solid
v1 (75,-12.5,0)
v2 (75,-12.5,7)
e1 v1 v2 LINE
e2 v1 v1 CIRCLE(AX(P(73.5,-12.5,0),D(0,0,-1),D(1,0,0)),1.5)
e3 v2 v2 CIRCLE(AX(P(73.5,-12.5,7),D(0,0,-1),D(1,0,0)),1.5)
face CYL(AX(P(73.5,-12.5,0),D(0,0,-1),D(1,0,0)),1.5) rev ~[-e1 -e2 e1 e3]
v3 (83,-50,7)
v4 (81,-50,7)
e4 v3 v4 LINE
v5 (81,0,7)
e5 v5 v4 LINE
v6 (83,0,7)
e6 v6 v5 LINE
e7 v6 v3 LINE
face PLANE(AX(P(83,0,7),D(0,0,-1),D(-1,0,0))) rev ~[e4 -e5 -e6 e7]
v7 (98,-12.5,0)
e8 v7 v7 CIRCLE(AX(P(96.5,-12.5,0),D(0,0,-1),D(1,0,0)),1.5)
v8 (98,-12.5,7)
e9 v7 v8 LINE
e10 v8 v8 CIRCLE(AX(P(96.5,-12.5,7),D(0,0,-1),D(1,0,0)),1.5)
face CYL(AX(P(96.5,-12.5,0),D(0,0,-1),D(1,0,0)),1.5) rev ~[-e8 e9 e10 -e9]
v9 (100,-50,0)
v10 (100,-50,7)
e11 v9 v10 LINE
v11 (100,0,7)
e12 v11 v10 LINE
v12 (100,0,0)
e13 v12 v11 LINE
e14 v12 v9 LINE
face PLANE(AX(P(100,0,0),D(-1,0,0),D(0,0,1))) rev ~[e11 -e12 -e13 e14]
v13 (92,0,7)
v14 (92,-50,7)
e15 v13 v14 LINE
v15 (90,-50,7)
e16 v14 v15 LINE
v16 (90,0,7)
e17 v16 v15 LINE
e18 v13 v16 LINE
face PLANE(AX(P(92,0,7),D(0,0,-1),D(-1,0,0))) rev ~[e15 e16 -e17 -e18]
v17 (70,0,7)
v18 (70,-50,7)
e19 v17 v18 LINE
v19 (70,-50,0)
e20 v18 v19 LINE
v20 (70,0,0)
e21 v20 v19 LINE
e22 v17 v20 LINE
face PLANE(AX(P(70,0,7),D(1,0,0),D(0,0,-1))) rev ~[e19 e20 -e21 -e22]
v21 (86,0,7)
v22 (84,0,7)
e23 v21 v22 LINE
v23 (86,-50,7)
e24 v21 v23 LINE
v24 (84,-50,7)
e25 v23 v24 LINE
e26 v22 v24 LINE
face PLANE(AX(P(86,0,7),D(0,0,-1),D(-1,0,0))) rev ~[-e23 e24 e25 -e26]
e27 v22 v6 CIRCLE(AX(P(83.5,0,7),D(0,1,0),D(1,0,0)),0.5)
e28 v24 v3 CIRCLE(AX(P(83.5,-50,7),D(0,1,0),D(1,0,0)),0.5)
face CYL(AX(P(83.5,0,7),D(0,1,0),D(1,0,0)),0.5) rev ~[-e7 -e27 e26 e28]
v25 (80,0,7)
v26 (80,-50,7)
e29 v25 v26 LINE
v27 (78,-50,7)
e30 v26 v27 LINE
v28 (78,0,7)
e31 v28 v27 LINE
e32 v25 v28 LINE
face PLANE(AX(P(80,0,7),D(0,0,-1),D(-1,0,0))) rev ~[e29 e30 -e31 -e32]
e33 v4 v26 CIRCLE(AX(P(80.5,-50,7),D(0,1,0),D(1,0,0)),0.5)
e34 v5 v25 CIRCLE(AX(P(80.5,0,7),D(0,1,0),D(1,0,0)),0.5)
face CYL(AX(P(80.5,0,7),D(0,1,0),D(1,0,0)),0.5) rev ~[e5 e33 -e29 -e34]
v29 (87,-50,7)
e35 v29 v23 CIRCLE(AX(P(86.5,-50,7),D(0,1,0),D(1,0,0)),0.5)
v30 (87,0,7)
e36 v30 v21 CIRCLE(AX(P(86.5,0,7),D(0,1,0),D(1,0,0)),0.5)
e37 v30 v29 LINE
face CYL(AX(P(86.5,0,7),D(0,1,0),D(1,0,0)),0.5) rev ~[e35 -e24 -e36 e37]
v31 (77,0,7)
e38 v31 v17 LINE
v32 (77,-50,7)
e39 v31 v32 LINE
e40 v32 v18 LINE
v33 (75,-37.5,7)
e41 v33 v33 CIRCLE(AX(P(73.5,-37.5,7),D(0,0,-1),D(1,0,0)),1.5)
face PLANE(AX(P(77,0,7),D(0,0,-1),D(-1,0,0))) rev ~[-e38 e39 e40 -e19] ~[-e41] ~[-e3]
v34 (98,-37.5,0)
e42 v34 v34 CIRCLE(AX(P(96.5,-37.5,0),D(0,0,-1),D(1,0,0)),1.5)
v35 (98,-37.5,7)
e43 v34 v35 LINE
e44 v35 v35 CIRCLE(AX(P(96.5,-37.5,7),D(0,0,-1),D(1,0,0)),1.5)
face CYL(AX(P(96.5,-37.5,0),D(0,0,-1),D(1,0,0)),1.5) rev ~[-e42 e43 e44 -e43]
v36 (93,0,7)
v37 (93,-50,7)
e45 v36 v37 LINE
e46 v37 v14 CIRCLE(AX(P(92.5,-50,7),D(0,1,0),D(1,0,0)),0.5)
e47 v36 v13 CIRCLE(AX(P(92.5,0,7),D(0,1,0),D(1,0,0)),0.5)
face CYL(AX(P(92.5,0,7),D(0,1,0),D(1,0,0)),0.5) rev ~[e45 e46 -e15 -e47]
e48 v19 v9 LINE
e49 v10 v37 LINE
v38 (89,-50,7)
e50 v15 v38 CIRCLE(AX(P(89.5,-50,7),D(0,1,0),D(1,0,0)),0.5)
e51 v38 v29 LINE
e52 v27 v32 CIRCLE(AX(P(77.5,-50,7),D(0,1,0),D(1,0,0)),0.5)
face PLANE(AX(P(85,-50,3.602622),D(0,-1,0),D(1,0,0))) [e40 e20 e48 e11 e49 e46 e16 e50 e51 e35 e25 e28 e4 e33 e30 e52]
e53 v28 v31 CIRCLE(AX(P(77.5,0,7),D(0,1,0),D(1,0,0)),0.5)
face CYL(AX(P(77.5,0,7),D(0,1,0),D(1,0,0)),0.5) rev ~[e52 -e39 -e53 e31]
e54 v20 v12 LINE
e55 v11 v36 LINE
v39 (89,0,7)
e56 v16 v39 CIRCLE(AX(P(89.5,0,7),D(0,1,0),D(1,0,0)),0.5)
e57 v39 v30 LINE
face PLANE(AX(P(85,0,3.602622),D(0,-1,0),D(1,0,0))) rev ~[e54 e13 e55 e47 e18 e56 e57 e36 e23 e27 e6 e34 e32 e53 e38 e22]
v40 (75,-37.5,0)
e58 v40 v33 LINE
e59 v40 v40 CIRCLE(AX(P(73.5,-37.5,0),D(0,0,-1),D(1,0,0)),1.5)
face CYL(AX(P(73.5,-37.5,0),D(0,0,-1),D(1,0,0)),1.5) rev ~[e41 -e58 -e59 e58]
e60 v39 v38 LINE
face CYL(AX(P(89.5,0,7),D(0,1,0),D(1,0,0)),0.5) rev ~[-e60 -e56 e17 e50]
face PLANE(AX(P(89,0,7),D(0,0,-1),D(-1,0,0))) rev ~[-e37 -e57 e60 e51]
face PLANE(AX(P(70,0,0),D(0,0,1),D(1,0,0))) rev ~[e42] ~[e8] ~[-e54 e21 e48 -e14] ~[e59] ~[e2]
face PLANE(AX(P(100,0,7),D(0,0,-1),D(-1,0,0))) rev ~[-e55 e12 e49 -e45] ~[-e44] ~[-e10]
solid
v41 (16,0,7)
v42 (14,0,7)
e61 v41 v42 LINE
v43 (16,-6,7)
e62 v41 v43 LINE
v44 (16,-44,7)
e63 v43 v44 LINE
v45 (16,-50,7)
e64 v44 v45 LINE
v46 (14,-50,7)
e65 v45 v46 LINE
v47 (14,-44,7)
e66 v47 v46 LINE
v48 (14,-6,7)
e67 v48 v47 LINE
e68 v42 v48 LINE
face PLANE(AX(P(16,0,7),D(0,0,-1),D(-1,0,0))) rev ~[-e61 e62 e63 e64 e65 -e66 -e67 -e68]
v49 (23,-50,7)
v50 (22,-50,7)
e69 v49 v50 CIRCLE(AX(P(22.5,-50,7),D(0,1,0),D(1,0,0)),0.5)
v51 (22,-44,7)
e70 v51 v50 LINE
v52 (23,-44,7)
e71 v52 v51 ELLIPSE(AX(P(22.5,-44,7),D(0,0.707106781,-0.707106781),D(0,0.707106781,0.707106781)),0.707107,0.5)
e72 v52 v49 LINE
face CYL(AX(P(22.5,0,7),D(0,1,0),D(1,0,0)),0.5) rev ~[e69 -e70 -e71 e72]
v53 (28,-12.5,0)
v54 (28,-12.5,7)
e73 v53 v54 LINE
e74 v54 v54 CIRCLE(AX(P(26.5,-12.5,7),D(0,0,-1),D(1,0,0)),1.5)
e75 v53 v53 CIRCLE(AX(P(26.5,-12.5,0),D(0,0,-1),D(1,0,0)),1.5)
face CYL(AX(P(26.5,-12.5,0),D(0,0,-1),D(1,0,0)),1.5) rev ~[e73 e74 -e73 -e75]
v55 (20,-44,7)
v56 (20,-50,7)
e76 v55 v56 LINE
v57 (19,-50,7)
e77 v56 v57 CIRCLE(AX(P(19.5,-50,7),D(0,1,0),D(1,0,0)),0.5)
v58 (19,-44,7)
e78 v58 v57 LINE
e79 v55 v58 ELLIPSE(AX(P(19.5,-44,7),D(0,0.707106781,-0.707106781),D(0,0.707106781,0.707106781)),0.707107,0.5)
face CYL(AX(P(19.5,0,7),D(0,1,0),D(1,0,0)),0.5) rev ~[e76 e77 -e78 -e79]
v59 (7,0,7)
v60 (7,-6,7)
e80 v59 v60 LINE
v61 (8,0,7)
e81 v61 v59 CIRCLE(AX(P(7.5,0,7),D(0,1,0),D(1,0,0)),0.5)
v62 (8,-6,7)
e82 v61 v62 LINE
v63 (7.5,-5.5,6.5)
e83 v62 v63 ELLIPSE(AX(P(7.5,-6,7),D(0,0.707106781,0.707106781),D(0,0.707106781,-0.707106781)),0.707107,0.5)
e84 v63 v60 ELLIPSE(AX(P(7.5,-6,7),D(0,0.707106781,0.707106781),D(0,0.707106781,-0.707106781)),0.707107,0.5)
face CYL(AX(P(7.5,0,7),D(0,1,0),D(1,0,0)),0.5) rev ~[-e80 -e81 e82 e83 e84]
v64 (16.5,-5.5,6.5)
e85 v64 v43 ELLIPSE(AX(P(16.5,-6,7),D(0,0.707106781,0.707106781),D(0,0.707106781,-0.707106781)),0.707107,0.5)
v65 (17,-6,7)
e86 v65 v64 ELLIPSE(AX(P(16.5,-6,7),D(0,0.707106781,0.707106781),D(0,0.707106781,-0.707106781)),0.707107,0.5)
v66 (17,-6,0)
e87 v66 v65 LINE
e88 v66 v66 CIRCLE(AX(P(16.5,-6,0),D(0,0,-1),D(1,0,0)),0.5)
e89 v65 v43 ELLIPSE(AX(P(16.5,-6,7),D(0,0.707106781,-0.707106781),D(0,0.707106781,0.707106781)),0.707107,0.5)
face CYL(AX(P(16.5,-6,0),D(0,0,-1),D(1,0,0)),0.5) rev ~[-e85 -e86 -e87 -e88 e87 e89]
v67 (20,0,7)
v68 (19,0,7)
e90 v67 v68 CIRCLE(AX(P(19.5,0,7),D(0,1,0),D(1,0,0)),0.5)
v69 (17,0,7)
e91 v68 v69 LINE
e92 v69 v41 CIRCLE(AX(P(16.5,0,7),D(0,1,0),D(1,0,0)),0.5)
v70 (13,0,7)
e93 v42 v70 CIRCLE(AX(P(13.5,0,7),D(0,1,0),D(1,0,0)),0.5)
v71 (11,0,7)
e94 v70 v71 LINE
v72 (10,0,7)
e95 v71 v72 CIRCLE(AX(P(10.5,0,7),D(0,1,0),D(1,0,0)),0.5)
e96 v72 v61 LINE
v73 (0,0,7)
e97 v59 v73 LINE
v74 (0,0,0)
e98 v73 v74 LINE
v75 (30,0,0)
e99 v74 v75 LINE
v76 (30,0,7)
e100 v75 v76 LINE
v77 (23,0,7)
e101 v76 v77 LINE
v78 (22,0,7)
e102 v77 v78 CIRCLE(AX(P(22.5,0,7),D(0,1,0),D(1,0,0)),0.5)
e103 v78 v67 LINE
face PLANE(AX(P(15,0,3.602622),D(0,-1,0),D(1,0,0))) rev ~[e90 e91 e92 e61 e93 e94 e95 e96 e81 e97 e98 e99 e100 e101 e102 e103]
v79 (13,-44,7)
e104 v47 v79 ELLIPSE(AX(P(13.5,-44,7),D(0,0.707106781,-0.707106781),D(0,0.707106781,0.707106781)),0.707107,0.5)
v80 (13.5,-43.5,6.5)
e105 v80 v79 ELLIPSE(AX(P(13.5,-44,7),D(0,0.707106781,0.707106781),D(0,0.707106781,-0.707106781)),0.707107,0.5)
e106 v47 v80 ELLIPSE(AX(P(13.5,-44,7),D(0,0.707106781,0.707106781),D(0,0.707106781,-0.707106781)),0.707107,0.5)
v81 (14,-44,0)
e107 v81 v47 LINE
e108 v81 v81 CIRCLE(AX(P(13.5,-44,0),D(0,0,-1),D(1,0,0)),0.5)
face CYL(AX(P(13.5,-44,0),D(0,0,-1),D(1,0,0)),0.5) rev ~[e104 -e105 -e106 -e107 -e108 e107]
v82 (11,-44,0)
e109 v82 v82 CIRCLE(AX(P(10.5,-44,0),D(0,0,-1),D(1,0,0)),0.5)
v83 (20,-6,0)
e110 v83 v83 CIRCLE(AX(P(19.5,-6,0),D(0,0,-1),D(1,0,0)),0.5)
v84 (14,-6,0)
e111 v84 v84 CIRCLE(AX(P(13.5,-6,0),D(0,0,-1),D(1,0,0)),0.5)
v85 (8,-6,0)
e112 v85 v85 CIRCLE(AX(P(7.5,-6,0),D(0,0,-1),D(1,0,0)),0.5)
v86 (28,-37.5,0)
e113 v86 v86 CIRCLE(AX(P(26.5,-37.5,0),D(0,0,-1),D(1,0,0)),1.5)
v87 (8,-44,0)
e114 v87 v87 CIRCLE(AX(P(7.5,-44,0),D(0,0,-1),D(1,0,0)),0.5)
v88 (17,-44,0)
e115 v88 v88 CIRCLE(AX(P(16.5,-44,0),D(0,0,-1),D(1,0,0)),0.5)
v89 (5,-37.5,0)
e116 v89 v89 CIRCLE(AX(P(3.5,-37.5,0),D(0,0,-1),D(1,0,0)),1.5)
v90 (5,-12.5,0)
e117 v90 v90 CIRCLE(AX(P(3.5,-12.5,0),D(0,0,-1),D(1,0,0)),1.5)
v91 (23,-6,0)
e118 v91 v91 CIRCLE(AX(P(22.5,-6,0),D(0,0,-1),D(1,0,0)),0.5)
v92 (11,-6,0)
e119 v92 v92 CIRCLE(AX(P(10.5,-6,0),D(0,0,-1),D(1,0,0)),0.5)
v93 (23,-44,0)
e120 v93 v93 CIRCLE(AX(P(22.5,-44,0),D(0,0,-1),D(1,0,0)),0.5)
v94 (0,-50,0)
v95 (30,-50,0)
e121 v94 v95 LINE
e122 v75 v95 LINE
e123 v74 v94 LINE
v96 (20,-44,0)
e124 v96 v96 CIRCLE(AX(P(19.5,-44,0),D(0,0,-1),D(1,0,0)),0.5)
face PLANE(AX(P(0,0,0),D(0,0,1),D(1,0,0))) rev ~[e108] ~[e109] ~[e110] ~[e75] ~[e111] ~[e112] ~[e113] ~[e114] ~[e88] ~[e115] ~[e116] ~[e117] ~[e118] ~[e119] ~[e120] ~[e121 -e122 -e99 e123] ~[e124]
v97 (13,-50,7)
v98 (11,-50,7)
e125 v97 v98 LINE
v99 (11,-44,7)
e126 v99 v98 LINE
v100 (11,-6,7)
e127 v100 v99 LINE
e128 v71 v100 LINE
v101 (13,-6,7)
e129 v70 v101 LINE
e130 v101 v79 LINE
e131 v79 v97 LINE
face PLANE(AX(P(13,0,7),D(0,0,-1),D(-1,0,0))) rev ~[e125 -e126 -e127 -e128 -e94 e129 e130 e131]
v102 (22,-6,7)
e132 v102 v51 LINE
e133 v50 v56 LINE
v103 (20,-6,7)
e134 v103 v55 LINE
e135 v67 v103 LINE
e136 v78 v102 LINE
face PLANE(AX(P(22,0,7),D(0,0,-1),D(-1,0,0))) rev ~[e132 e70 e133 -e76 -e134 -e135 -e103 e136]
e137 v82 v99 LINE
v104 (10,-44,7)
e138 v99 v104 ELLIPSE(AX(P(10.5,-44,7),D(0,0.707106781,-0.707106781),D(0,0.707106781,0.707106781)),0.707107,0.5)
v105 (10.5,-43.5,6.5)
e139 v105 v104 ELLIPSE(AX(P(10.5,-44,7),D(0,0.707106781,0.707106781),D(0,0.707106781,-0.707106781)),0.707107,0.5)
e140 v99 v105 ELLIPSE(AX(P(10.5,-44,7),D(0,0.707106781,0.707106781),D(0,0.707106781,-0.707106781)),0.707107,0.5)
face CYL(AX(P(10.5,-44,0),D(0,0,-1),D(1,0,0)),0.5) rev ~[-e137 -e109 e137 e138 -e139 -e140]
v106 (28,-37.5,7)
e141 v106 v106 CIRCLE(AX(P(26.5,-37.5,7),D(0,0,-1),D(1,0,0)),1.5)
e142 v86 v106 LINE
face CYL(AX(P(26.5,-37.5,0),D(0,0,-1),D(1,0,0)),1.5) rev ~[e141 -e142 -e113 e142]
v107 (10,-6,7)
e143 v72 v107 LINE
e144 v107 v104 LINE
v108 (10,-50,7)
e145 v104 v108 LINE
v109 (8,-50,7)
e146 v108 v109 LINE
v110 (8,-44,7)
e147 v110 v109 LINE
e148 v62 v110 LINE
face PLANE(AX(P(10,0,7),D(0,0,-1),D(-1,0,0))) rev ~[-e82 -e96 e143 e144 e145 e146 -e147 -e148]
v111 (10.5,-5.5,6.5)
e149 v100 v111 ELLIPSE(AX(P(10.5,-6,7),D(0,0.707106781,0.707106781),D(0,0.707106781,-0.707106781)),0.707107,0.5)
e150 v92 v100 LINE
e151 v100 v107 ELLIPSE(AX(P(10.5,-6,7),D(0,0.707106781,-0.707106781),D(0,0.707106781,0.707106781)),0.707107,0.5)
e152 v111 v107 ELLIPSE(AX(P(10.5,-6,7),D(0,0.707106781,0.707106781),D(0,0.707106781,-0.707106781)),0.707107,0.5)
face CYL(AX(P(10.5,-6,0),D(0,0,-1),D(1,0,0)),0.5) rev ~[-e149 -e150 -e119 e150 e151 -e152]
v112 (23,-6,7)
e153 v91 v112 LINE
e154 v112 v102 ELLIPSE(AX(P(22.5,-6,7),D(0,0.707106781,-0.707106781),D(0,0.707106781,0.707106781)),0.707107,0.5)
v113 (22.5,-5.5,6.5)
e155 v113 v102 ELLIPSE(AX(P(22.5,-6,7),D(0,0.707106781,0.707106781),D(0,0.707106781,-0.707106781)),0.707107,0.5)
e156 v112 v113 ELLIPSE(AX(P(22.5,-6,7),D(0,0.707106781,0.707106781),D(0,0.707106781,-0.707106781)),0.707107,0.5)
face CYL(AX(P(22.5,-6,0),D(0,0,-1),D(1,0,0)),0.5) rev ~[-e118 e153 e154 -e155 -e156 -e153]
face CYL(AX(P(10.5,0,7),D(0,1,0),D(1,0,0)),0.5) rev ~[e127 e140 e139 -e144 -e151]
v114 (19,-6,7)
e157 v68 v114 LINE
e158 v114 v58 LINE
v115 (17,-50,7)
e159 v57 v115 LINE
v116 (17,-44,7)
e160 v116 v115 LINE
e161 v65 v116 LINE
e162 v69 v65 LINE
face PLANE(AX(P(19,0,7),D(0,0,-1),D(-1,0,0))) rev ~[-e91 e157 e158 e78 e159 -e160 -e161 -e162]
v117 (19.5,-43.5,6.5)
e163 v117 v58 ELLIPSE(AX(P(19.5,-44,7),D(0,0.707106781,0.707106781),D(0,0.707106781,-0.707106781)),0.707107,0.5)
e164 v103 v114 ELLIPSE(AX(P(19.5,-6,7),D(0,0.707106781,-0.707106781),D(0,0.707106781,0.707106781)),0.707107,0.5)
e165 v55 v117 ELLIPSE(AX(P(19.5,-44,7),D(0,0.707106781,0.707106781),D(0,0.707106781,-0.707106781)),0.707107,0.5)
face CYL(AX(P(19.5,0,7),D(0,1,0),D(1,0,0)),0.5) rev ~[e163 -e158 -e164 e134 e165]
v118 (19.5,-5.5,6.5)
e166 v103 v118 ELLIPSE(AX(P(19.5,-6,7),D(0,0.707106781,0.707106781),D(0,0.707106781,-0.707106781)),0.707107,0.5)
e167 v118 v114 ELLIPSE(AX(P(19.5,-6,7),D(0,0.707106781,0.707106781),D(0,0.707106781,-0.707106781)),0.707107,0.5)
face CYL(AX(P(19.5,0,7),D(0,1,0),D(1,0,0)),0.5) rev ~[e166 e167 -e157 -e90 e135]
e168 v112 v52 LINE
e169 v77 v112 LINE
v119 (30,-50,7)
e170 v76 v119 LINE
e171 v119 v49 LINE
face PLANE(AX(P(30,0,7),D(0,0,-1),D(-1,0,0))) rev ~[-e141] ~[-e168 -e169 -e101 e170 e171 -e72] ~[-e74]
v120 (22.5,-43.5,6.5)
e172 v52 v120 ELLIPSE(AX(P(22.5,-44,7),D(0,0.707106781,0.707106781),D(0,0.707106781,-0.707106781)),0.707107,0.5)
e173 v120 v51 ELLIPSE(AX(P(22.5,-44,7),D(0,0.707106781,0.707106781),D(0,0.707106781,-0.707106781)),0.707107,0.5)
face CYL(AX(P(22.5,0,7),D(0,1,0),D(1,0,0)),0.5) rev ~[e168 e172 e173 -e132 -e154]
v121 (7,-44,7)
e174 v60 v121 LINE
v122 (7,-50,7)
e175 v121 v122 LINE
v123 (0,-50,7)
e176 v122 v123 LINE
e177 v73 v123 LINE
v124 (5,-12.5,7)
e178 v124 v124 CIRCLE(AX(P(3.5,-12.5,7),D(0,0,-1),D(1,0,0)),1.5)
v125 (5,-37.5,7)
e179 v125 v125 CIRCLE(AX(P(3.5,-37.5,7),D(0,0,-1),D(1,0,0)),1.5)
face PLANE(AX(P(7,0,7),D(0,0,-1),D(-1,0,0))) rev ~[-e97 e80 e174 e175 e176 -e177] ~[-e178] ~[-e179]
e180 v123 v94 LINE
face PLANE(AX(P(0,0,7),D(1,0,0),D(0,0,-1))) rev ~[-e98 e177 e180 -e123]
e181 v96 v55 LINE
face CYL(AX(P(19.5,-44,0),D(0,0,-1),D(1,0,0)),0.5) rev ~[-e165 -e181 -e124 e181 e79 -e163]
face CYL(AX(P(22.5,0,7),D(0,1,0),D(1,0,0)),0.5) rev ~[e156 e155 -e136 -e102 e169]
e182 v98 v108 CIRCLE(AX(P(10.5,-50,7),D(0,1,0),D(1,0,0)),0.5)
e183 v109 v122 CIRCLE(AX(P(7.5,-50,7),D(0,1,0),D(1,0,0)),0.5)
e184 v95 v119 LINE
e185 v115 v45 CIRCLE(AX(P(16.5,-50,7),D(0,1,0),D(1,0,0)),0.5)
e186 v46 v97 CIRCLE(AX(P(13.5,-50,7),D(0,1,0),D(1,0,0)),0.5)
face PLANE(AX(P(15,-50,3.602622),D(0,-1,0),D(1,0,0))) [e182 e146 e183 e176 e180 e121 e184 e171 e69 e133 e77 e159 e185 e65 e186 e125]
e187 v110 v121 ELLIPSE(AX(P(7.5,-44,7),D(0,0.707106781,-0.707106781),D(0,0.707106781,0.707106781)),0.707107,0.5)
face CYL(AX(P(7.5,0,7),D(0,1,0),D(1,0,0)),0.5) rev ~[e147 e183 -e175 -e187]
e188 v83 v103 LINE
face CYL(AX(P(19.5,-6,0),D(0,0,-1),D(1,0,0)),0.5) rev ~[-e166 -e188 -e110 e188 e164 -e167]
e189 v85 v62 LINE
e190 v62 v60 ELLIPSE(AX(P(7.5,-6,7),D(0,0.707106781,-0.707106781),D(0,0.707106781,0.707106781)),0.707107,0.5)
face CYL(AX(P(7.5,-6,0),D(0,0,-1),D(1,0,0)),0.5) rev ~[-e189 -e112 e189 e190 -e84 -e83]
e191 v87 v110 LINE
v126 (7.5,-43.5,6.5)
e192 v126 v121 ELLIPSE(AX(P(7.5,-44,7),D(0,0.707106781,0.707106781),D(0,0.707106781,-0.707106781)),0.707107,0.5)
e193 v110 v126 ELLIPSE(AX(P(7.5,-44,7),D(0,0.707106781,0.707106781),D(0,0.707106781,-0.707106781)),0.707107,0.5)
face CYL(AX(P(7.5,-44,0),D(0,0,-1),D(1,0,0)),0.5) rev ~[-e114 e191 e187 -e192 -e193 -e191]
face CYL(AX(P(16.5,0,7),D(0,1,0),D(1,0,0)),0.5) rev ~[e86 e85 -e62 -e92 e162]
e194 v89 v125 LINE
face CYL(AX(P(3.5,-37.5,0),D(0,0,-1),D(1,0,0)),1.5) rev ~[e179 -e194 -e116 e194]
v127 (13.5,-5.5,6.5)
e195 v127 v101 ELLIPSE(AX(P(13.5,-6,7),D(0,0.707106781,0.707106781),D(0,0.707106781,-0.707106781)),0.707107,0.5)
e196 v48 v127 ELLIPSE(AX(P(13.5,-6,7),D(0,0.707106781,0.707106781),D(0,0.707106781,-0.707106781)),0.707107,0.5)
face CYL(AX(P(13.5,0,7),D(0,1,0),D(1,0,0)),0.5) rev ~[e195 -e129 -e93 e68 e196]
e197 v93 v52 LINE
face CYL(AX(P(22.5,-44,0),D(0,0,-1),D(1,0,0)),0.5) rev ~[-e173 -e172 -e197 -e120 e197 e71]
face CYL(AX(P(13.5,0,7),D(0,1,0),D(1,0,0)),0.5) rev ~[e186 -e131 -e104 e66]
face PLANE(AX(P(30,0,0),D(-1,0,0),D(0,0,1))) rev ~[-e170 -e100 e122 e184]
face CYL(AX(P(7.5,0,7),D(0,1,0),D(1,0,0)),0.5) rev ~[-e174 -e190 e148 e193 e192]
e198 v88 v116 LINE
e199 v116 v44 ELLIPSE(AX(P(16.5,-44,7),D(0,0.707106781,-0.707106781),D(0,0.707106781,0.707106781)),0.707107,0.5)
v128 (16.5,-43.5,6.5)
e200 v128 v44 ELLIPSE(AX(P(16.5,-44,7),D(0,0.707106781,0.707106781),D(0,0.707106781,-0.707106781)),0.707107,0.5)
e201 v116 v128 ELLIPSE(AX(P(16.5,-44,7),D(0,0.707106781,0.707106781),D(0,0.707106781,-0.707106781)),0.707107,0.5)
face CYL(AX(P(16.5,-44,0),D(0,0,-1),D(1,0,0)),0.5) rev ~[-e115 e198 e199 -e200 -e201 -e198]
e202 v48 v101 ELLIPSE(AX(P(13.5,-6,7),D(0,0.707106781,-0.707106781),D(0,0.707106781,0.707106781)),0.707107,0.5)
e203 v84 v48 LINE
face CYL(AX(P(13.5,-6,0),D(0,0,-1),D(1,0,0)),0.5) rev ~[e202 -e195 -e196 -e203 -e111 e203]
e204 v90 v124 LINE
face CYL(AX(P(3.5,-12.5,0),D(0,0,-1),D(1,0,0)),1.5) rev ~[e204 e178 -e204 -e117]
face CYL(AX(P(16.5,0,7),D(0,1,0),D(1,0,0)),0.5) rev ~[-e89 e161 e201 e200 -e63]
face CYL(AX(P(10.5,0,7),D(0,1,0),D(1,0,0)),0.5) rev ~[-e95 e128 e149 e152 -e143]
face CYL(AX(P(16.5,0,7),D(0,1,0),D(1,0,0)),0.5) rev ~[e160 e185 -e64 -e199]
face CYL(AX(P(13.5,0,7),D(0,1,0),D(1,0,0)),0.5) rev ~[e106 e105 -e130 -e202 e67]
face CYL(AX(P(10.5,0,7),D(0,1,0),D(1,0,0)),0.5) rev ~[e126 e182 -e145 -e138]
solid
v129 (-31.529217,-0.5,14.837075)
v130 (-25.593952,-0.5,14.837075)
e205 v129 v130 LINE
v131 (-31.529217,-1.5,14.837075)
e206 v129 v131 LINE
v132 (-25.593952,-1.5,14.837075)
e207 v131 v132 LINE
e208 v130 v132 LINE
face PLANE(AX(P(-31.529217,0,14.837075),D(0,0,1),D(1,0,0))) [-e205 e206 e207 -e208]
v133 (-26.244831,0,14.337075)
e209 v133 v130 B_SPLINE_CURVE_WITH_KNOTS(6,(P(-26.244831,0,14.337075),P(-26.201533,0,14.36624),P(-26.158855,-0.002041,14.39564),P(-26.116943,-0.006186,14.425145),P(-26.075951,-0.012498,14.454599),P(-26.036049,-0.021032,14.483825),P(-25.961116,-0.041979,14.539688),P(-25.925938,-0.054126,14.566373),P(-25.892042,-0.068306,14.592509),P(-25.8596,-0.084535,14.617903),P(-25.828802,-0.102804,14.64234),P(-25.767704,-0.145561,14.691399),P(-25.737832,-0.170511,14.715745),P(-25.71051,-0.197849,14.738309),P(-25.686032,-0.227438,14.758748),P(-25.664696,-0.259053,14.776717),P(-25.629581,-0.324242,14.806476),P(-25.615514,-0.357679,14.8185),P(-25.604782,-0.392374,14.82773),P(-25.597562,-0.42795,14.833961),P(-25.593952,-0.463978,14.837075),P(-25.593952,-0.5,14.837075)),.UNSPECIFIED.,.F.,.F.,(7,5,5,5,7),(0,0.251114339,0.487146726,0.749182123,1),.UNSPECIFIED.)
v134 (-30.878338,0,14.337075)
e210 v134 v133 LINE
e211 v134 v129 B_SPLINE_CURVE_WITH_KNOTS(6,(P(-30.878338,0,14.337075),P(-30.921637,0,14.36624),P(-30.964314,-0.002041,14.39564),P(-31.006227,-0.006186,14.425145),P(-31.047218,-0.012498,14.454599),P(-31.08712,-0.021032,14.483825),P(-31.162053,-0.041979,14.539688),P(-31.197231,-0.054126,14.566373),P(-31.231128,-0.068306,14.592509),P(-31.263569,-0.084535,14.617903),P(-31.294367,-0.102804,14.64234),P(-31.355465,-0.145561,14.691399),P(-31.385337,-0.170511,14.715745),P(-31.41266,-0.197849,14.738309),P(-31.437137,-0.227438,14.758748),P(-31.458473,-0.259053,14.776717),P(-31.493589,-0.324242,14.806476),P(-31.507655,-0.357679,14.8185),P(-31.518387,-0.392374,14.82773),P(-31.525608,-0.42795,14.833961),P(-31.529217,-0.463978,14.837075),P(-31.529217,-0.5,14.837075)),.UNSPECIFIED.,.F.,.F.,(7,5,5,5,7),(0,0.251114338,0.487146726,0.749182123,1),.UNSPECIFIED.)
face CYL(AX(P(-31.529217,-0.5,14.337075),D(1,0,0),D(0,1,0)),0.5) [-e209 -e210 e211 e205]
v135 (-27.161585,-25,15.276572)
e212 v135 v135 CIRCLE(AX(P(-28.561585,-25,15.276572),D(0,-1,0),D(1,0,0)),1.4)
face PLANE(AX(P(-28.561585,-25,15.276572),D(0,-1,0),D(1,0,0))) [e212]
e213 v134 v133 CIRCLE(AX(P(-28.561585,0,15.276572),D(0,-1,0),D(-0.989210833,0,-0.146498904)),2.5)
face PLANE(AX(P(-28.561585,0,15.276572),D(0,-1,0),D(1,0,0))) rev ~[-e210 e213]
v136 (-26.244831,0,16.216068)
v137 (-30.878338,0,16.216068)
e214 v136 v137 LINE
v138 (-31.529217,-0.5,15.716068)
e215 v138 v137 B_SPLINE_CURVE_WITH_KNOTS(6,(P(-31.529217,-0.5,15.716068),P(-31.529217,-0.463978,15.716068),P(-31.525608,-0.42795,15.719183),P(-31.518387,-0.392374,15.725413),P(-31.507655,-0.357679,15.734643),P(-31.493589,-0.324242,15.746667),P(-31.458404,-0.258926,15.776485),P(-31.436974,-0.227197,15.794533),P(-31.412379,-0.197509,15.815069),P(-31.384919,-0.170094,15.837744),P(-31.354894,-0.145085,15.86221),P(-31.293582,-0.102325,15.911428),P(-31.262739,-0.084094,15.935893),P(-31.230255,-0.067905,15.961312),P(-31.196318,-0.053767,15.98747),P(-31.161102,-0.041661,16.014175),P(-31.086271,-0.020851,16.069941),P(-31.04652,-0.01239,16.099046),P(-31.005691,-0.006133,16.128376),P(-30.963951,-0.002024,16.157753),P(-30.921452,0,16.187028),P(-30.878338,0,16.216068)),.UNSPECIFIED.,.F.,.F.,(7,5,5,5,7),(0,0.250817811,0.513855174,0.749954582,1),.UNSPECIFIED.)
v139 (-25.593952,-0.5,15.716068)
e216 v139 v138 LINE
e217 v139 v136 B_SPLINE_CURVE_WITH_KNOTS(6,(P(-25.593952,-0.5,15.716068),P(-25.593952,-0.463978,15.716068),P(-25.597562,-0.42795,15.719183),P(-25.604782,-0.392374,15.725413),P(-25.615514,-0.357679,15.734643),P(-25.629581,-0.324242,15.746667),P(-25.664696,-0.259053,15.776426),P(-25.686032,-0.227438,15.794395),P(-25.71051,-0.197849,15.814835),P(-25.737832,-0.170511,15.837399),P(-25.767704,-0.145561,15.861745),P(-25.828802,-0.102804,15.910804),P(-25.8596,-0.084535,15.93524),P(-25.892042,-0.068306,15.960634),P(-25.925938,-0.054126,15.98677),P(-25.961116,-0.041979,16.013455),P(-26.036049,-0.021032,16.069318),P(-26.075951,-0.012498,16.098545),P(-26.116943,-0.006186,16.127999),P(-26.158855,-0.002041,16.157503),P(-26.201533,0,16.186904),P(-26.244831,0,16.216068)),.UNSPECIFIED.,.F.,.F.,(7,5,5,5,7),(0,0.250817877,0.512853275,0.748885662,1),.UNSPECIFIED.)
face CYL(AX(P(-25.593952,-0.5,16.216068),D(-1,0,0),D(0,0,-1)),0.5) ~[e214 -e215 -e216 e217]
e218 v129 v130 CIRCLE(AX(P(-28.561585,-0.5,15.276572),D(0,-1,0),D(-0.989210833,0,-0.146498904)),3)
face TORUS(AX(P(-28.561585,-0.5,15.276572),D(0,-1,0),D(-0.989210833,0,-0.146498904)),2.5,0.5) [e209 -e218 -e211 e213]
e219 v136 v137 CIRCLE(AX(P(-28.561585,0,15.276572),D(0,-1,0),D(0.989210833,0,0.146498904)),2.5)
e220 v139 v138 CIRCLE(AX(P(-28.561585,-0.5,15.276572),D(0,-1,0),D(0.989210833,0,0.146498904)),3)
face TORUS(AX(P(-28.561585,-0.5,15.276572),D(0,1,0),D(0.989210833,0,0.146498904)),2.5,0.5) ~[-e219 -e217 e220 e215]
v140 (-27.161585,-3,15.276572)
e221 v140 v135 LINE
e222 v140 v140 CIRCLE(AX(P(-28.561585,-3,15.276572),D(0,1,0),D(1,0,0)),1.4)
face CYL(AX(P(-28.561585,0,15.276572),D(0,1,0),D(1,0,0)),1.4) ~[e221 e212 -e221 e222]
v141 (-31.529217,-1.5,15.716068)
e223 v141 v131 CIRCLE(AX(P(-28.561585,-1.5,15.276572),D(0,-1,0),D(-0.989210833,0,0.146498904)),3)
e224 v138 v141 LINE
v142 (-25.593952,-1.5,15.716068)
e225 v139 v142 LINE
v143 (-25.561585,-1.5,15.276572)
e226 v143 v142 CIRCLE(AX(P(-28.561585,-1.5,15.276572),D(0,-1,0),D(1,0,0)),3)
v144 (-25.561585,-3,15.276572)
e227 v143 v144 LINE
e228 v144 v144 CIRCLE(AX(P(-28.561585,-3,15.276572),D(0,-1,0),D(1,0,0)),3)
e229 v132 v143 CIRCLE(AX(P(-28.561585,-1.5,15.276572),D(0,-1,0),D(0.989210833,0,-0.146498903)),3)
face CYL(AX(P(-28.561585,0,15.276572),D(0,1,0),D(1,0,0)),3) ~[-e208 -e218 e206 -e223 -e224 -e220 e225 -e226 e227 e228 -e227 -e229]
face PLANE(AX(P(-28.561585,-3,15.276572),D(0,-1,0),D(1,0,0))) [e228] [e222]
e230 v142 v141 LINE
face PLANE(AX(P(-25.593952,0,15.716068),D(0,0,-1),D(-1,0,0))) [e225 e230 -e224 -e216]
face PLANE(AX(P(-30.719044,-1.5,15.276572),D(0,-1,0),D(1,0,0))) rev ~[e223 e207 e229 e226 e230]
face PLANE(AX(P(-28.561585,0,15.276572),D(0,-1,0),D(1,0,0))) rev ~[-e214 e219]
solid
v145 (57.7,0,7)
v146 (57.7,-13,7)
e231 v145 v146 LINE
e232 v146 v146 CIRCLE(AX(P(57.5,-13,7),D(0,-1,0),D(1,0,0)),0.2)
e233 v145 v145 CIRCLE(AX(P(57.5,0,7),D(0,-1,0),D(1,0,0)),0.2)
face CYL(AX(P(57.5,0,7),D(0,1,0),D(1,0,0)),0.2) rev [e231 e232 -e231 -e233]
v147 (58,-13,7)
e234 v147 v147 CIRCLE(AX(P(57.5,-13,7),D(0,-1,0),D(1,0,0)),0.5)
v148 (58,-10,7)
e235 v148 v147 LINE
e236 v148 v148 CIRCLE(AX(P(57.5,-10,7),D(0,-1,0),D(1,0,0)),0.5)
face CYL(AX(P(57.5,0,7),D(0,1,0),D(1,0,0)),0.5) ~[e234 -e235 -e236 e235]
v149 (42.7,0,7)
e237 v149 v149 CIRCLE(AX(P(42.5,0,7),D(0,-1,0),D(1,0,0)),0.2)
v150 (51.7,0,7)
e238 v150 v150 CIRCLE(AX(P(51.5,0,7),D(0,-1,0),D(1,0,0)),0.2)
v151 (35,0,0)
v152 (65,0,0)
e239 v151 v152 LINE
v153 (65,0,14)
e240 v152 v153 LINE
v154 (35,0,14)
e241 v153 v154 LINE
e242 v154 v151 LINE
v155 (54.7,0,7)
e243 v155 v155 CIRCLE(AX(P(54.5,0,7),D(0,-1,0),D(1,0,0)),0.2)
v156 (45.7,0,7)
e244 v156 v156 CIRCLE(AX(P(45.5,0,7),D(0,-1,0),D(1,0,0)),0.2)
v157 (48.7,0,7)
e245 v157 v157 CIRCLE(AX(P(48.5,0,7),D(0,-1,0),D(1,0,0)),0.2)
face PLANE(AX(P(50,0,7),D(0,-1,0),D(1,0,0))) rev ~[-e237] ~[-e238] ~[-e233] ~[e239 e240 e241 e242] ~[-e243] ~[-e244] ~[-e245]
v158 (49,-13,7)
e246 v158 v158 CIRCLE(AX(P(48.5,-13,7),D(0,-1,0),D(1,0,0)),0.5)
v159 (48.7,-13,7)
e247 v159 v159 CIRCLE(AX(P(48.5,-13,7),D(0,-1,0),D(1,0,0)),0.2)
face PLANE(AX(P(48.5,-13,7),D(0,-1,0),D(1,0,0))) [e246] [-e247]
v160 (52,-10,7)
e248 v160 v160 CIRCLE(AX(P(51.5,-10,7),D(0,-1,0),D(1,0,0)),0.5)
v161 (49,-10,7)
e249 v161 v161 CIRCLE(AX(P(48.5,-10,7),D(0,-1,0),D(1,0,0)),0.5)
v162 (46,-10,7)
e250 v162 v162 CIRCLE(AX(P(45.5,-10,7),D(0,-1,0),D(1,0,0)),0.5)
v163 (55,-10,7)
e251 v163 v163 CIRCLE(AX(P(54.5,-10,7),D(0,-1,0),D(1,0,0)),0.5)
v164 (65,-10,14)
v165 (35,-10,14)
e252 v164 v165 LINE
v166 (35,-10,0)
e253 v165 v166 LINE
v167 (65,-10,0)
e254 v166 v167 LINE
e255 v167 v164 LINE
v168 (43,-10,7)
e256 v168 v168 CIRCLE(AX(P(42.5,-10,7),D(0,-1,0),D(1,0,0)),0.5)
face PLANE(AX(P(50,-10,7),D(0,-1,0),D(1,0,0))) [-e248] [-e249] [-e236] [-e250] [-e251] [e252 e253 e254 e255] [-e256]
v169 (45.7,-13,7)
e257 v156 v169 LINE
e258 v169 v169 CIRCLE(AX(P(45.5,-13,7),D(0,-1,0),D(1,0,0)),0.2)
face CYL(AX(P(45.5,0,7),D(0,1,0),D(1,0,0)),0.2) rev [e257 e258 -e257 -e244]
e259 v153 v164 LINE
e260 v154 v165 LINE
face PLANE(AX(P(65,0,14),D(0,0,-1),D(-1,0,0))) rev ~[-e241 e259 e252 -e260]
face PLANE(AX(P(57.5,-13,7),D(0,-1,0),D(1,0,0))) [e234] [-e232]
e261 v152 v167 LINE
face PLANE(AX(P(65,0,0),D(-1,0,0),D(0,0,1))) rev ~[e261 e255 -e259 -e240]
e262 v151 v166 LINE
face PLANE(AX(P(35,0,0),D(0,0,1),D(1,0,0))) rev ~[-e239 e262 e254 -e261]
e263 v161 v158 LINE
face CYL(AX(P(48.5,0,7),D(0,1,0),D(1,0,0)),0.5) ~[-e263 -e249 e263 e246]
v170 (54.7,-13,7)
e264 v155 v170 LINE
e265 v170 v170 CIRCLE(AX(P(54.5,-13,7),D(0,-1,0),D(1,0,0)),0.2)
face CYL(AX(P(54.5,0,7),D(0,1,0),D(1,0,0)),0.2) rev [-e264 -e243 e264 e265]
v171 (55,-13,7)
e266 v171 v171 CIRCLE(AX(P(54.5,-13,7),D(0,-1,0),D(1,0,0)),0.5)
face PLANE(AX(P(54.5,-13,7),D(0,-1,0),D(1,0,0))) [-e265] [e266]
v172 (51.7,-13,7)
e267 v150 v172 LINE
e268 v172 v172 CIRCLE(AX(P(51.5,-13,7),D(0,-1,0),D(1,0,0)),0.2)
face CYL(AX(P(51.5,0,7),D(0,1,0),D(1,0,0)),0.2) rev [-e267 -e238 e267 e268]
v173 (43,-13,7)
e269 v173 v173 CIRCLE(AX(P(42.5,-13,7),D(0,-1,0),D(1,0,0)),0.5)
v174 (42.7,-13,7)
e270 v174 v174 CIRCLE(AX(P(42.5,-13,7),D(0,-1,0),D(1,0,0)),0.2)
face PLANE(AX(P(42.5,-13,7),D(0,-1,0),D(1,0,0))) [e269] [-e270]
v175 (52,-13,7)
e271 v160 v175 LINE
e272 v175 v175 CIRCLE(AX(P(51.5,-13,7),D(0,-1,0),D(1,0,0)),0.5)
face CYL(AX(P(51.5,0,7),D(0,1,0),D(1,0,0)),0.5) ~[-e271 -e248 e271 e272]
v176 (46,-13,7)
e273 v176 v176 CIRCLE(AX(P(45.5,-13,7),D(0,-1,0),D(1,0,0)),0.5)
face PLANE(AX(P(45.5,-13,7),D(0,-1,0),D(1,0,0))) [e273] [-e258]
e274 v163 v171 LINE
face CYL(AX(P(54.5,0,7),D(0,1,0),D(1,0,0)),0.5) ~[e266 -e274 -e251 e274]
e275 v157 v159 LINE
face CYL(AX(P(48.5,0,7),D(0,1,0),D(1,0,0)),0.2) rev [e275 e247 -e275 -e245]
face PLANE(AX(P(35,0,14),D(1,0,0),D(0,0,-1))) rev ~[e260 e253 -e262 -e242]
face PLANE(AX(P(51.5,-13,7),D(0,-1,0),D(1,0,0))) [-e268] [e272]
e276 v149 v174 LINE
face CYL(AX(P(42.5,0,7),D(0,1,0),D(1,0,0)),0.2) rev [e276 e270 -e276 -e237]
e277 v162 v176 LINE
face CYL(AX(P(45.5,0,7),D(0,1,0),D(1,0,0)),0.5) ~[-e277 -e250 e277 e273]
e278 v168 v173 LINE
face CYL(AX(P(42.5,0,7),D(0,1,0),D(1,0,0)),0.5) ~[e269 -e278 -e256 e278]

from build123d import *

# Parameters (mm, degrees)
F1_DEPTH  = 50
F2_R      = 0.5
F2_R_2    = 0.2
F3_DEPTH  = 13
F4_DEPTH  = 10
F5_R      = 3
F5_R_2    = 1.4
F6_DEPTH  = 3
F7_DEPTH  = 25
F9_DEPTH  = 1.5
F10_R     = 0.5
F11_R     = 1.5
F11_R_2   = 0.5
F13_DEPTH = 25
F14_R     = 1.5
F15_DEPTH = 25


with BuildPart() as f1:
    # F0 (on Front) → F1 (new body)
    with BuildSketch(Plane.XZ):
        with BuildLine():
            Line((0, 7), (0, 0))
            Line((0, 0), (30, 0))
            Line((30, 0), (30, 7))
            Line((30, 7), (23, 7))
            ThreePointArc((23, 7), (22.5, 6.5), (22, 7))
            Line((22, 7), (20, 7))
            ThreePointArc((20, 7), (19.5, 6.5), (19, 7))
            Line((19, 7), (17, 7))
            ThreePointArc((17, 7), (16.5, 6.5), (16, 7))
            Line((16, 7), (14, 7))
            ThreePointArc((14, 7), (13.5, 6.5), (13, 7))
            Line((13, 7), (11, 7))
            ThreePointArc((11, 7), (10.5, 6.5), (10, 7))
            Line((10, 7), (8, 7))
            ThreePointArc((8, 7), (7.5, 6.5), (7, 7))
            Line((7, 7), (0, 7))
        make_face()
    extrude(amount=F1_DEPTH)


with BuildPart() as f3:
    # F2 (on Front) → F3 (new body)
    with BuildSketch(Plane.XZ):
        with Locations((51.5, 7)):
            Circle(F2_R)
        with Locations((51.5, 7)):
            Circle(F2_R_2, mode=Mode.SUBTRACT)
    extrude(amount=F3_DEPTH)



with BuildPart() as f3b:
    # F2 (on Front) → F3, piece 2 (new body)
    with BuildSketch(Plane.XZ):
        with Locations((48.5, 7)):
            Circle(F2_R)
        with Locations((48.5, 7)):
            Circle(F2_R_2, mode=Mode.SUBTRACT)
    extrude(amount=F3_DEPTH)


with BuildPart() as f3c:
    # F2 (on Front) → F3, piece 3 (new body)
    with BuildSketch(Plane.XZ):
        with Locations((45.5, 7)):
            Circle(F2_R)
        with Locations((45.5, 7)):
            Circle(F2_R_2, mode=Mode.SUBTRACT)
    extrude(amount=F3_DEPTH)


with BuildPart() as f3d:
    # F2 (on Front) → F3, piece 4 (new body)
    with BuildSketch(Plane.XZ):
        with Locations((42.5, 7)):
            Circle(F2_R)
        with Locations((42.5, 7)):
            Circle(F2_R_2, mode=Mode.SUBTRACT)
    extrude(amount=F3_DEPTH)


with BuildPart() as f3e:
    # F2 (on Front) → F3, piece 5 (new body)
    with BuildSketch(Plane.XZ):
        with Locations((54.5, 7)):
            Circle(F2_R)
        with Locations((54.5, 7)):
            Circle(F2_R_2, mode=Mode.SUBTRACT)
    extrude(amount=F3_DEPTH)


with BuildPart() as f3f:
    # F2 (on Front) → F3, piece 6 (new body)
    with BuildSketch(Plane.XZ):
        with Locations((57.5, 7)):
            Circle(F2_R)
        with Locations((57.5, 7)):
            Circle(F2_R_2, mode=Mode.SUBTRACT)
    extrude(amount=F3_DEPTH)


with BuildPart() as f3_1:
    add(f3.part)

    add(f3b.part)  # F4 merges F3b

    add(f3c.part)  # F4 merges F3c

    add(f3d.part)  # F4 merges F3d

    add(f3e.part)  # F4 merges F3e

    add(f3f.part)  # F4 merges F3f
    # F2 (on Front) → F4 (join)
    with BuildSketch(Plane.XZ):
        Polygon((35, 7), (35, 0), (65, 0), (65, 7), (65, 14), (35, 14), align=None)
        with Locations((42.5, 7)):
            Circle(F2_R, mode=Mode.SUBTRACT)
        with Locations((45.5, 7)):
            Circle(F2_R, mode=Mode.SUBTRACT)
        with Locations((48.5, 7)):
            Circle(F2_R, mode=Mode.SUBTRACT)
        with Locations((51.5, 7)):
            Circle(F2_R, mode=Mode.SUBTRACT)
        with Locations((54.5, 7)):
            Circle(F2_R, mode=Mode.SUBTRACT)
        with Locations((57.5, 7)):
            Circle(F2_R, mode=Mode.SUBTRACT)
    extrude(amount=F4_DEPTH)


with BuildPart() as f6:
    # F5 (on Front) → F6 (new body)
    with BuildSketch(Plane.XZ):
        with Locations((-28.5615846515, 15.2765717357)):
            Circle(F5_R)
        with Locations((-28.5615846515, 15.2765717357)):
            Circle(F5_R_2, mode=Mode.SUBTRACT)
        with Locations((-28.5615846515, 15.2765717357)):
            Circle(F5_R_2)
    extrude(amount=F6_DEPTH)

    # F5 (on Front) → F7 (join)
    with BuildSketch(Plane.XZ):
        with Locations((-28.5615846515, 15.2765717357)):
            Circle(F5_R_2)
    extrude(amount=F7_DEPTH)

    # F8 (on face) → F9 (cut)
    with BuildSketch(Plane.XZ):
        with BuildLine():
            ThreePointArc((-29.8908109833, 14.8370750248), (-29.9615846515, 15.2765717357), (-29.8908109833, 15.7160684466))
            Line((-29.8908109833, 15.7160684466), (-31.5292171491, 15.7160684466))
            ThreePointArc((-31.5292171491, 15.7160684466), (-31.5615846515, 15.2765717357), (-31.5292171491, 14.8370750248))
            Line((-31.5292171491, 14.8370750248), (-29.8908109833, 14.8370750248))
        make_face()
        with BuildLine():
            ThreePointArc((-27.2323583197, 14.8370750248), (-27.1793913103, 15.0539923842), (-27.1615846515, 15.2765717357))
            ThreePointArc((-27.1615846515, 15.2765717357), (-27.1793913103, 15.4991510873), (-27.2323583197, 15.7160684466))
            Line((-27.2323583197, 15.7160684466), (-29.8908109833, 15.7160684466))
            ThreePointArc((-29.8908109833, 15.7160684466), (-29.9615846515, 15.2765717357), (-29.8908109833, 14.8370750248))
            Line((-29.8908109833, 14.8370750248), (-27.2323583197, 14.8370750248))
        make_face()
        with BuildLine():
            ThreePointArc((-27.2323583197, 15.7160684466), (-27.1793913103, 15.4991510873), (-27.1615846515, 15.2765717357))
            ThreePointArc((-27.1615846515, 15.2765717357), (-27.1793913103, 15.0539923842), (-27.2323583197, 14.8370750248))
            Line((-27.2323583197, 14.8370750248), (-25.5939521538, 14.8370750248))
            ThreePointArc((-25.5939521538, 14.8370750248), (-25.5696874697, 15.0562282459), (-25.5615846515, 15.2765717357))
            ThreePointArc((-25.5615846515, 15.2765717357), (-25.5696874697, 15.4969152256), (-25.5939521538, 15.7160684466))
            Line((-25.5939521538, 15.7160684466), (-27.2323583197, 15.7160684466))
        make_face()
    extrude(amount=F9_DEPTH, mode=Mode.SUBTRACT)

    # F10
    f10_edges = [f6.edges().sort_by_distance(p)[0] for p in [
        (-28.561585, 0, 15.716068),
        (-28.561585, 0, 18.276572),
        (-28.561585, 0, 12.276572),
        (-28.561585, 0, 14.837075),
    ]]
    fillet(f10_edges, radius=F10_R)


with BuildPart() as f12_1:
    # F12: copy of F1
    add(f1.part.moved(Location((70, 0, 0))))

    # F14 (on face) → F15 (cut)
    with BuildSketch(Plane(origin=(0, 0, 0), x_dir=(1, 0, 0), z_dir=(0, 0, -1))):
        with Locations((96.5, 37.5)):
            Circle(F14_R)
        with Locations((96.5, 12.5)):
            Circle(F14_R)
        with Locations((73.5, 37.5)):
            Circle(F14_R)
        with Locations((73.5, 12.5)):
            Circle(F14_R)
    extrude(amount=-F15_DEPTH, mode=Mode.SUBTRACT)


with BuildPart() as f1_1:
    add(f1.part)

    # F11 (on face) → F13 (cut)
    with BuildSketch(Plane(origin=(0, 0, 0), x_dir=(1, 0, 0), z_dir=(0, 0, -1))):
        with Locations((3.5, 12.5)):
            Circle(F11_R)
        with Locations((3.5, 37.5)):
            Circle(F11_R)
        with Locations((26.5, 12.5)):
            Circle(F11_R)
        with Locations((26.5, 37.5)):
            Circle(F11_R)
        with Locations((7.5, 6)):
            Circle(F11_R_2)
        with Locations((7.5, 44)):
            Circle(F11_R_2)
        with Locations((10.5, 6)):
            Circle(F11_R_2)
        with Locations((10.5, 44)):
            Circle(F11_R_2)
        with Locations((13.5, 6)):
            Circle(F11_R_2)
        with Locations((13.5, 44)):
            Circle(F11_R_2)
        with Locations((16.5, 6)):
            Circle(F11_R_2)
        with Locations((16.5, 44)):
            Circle(F11_R_2)
        with Locations((19.5, 6)):
            Circle(F11_R_2)
        with Locations((19.5, 44)):
            Circle(F11_R_2)
        with Locations((22.5, 6)):
            Circle(F11_R_2)
        with Locations((22.5, 44)):
            Circle(F11_R_2)
    extrude(amount=-F13_DEPTH, mode=Mode.SUBTRACT)


solid = Compound([f3_1.part, f6.part, f12_1.part, f1_1.part])
